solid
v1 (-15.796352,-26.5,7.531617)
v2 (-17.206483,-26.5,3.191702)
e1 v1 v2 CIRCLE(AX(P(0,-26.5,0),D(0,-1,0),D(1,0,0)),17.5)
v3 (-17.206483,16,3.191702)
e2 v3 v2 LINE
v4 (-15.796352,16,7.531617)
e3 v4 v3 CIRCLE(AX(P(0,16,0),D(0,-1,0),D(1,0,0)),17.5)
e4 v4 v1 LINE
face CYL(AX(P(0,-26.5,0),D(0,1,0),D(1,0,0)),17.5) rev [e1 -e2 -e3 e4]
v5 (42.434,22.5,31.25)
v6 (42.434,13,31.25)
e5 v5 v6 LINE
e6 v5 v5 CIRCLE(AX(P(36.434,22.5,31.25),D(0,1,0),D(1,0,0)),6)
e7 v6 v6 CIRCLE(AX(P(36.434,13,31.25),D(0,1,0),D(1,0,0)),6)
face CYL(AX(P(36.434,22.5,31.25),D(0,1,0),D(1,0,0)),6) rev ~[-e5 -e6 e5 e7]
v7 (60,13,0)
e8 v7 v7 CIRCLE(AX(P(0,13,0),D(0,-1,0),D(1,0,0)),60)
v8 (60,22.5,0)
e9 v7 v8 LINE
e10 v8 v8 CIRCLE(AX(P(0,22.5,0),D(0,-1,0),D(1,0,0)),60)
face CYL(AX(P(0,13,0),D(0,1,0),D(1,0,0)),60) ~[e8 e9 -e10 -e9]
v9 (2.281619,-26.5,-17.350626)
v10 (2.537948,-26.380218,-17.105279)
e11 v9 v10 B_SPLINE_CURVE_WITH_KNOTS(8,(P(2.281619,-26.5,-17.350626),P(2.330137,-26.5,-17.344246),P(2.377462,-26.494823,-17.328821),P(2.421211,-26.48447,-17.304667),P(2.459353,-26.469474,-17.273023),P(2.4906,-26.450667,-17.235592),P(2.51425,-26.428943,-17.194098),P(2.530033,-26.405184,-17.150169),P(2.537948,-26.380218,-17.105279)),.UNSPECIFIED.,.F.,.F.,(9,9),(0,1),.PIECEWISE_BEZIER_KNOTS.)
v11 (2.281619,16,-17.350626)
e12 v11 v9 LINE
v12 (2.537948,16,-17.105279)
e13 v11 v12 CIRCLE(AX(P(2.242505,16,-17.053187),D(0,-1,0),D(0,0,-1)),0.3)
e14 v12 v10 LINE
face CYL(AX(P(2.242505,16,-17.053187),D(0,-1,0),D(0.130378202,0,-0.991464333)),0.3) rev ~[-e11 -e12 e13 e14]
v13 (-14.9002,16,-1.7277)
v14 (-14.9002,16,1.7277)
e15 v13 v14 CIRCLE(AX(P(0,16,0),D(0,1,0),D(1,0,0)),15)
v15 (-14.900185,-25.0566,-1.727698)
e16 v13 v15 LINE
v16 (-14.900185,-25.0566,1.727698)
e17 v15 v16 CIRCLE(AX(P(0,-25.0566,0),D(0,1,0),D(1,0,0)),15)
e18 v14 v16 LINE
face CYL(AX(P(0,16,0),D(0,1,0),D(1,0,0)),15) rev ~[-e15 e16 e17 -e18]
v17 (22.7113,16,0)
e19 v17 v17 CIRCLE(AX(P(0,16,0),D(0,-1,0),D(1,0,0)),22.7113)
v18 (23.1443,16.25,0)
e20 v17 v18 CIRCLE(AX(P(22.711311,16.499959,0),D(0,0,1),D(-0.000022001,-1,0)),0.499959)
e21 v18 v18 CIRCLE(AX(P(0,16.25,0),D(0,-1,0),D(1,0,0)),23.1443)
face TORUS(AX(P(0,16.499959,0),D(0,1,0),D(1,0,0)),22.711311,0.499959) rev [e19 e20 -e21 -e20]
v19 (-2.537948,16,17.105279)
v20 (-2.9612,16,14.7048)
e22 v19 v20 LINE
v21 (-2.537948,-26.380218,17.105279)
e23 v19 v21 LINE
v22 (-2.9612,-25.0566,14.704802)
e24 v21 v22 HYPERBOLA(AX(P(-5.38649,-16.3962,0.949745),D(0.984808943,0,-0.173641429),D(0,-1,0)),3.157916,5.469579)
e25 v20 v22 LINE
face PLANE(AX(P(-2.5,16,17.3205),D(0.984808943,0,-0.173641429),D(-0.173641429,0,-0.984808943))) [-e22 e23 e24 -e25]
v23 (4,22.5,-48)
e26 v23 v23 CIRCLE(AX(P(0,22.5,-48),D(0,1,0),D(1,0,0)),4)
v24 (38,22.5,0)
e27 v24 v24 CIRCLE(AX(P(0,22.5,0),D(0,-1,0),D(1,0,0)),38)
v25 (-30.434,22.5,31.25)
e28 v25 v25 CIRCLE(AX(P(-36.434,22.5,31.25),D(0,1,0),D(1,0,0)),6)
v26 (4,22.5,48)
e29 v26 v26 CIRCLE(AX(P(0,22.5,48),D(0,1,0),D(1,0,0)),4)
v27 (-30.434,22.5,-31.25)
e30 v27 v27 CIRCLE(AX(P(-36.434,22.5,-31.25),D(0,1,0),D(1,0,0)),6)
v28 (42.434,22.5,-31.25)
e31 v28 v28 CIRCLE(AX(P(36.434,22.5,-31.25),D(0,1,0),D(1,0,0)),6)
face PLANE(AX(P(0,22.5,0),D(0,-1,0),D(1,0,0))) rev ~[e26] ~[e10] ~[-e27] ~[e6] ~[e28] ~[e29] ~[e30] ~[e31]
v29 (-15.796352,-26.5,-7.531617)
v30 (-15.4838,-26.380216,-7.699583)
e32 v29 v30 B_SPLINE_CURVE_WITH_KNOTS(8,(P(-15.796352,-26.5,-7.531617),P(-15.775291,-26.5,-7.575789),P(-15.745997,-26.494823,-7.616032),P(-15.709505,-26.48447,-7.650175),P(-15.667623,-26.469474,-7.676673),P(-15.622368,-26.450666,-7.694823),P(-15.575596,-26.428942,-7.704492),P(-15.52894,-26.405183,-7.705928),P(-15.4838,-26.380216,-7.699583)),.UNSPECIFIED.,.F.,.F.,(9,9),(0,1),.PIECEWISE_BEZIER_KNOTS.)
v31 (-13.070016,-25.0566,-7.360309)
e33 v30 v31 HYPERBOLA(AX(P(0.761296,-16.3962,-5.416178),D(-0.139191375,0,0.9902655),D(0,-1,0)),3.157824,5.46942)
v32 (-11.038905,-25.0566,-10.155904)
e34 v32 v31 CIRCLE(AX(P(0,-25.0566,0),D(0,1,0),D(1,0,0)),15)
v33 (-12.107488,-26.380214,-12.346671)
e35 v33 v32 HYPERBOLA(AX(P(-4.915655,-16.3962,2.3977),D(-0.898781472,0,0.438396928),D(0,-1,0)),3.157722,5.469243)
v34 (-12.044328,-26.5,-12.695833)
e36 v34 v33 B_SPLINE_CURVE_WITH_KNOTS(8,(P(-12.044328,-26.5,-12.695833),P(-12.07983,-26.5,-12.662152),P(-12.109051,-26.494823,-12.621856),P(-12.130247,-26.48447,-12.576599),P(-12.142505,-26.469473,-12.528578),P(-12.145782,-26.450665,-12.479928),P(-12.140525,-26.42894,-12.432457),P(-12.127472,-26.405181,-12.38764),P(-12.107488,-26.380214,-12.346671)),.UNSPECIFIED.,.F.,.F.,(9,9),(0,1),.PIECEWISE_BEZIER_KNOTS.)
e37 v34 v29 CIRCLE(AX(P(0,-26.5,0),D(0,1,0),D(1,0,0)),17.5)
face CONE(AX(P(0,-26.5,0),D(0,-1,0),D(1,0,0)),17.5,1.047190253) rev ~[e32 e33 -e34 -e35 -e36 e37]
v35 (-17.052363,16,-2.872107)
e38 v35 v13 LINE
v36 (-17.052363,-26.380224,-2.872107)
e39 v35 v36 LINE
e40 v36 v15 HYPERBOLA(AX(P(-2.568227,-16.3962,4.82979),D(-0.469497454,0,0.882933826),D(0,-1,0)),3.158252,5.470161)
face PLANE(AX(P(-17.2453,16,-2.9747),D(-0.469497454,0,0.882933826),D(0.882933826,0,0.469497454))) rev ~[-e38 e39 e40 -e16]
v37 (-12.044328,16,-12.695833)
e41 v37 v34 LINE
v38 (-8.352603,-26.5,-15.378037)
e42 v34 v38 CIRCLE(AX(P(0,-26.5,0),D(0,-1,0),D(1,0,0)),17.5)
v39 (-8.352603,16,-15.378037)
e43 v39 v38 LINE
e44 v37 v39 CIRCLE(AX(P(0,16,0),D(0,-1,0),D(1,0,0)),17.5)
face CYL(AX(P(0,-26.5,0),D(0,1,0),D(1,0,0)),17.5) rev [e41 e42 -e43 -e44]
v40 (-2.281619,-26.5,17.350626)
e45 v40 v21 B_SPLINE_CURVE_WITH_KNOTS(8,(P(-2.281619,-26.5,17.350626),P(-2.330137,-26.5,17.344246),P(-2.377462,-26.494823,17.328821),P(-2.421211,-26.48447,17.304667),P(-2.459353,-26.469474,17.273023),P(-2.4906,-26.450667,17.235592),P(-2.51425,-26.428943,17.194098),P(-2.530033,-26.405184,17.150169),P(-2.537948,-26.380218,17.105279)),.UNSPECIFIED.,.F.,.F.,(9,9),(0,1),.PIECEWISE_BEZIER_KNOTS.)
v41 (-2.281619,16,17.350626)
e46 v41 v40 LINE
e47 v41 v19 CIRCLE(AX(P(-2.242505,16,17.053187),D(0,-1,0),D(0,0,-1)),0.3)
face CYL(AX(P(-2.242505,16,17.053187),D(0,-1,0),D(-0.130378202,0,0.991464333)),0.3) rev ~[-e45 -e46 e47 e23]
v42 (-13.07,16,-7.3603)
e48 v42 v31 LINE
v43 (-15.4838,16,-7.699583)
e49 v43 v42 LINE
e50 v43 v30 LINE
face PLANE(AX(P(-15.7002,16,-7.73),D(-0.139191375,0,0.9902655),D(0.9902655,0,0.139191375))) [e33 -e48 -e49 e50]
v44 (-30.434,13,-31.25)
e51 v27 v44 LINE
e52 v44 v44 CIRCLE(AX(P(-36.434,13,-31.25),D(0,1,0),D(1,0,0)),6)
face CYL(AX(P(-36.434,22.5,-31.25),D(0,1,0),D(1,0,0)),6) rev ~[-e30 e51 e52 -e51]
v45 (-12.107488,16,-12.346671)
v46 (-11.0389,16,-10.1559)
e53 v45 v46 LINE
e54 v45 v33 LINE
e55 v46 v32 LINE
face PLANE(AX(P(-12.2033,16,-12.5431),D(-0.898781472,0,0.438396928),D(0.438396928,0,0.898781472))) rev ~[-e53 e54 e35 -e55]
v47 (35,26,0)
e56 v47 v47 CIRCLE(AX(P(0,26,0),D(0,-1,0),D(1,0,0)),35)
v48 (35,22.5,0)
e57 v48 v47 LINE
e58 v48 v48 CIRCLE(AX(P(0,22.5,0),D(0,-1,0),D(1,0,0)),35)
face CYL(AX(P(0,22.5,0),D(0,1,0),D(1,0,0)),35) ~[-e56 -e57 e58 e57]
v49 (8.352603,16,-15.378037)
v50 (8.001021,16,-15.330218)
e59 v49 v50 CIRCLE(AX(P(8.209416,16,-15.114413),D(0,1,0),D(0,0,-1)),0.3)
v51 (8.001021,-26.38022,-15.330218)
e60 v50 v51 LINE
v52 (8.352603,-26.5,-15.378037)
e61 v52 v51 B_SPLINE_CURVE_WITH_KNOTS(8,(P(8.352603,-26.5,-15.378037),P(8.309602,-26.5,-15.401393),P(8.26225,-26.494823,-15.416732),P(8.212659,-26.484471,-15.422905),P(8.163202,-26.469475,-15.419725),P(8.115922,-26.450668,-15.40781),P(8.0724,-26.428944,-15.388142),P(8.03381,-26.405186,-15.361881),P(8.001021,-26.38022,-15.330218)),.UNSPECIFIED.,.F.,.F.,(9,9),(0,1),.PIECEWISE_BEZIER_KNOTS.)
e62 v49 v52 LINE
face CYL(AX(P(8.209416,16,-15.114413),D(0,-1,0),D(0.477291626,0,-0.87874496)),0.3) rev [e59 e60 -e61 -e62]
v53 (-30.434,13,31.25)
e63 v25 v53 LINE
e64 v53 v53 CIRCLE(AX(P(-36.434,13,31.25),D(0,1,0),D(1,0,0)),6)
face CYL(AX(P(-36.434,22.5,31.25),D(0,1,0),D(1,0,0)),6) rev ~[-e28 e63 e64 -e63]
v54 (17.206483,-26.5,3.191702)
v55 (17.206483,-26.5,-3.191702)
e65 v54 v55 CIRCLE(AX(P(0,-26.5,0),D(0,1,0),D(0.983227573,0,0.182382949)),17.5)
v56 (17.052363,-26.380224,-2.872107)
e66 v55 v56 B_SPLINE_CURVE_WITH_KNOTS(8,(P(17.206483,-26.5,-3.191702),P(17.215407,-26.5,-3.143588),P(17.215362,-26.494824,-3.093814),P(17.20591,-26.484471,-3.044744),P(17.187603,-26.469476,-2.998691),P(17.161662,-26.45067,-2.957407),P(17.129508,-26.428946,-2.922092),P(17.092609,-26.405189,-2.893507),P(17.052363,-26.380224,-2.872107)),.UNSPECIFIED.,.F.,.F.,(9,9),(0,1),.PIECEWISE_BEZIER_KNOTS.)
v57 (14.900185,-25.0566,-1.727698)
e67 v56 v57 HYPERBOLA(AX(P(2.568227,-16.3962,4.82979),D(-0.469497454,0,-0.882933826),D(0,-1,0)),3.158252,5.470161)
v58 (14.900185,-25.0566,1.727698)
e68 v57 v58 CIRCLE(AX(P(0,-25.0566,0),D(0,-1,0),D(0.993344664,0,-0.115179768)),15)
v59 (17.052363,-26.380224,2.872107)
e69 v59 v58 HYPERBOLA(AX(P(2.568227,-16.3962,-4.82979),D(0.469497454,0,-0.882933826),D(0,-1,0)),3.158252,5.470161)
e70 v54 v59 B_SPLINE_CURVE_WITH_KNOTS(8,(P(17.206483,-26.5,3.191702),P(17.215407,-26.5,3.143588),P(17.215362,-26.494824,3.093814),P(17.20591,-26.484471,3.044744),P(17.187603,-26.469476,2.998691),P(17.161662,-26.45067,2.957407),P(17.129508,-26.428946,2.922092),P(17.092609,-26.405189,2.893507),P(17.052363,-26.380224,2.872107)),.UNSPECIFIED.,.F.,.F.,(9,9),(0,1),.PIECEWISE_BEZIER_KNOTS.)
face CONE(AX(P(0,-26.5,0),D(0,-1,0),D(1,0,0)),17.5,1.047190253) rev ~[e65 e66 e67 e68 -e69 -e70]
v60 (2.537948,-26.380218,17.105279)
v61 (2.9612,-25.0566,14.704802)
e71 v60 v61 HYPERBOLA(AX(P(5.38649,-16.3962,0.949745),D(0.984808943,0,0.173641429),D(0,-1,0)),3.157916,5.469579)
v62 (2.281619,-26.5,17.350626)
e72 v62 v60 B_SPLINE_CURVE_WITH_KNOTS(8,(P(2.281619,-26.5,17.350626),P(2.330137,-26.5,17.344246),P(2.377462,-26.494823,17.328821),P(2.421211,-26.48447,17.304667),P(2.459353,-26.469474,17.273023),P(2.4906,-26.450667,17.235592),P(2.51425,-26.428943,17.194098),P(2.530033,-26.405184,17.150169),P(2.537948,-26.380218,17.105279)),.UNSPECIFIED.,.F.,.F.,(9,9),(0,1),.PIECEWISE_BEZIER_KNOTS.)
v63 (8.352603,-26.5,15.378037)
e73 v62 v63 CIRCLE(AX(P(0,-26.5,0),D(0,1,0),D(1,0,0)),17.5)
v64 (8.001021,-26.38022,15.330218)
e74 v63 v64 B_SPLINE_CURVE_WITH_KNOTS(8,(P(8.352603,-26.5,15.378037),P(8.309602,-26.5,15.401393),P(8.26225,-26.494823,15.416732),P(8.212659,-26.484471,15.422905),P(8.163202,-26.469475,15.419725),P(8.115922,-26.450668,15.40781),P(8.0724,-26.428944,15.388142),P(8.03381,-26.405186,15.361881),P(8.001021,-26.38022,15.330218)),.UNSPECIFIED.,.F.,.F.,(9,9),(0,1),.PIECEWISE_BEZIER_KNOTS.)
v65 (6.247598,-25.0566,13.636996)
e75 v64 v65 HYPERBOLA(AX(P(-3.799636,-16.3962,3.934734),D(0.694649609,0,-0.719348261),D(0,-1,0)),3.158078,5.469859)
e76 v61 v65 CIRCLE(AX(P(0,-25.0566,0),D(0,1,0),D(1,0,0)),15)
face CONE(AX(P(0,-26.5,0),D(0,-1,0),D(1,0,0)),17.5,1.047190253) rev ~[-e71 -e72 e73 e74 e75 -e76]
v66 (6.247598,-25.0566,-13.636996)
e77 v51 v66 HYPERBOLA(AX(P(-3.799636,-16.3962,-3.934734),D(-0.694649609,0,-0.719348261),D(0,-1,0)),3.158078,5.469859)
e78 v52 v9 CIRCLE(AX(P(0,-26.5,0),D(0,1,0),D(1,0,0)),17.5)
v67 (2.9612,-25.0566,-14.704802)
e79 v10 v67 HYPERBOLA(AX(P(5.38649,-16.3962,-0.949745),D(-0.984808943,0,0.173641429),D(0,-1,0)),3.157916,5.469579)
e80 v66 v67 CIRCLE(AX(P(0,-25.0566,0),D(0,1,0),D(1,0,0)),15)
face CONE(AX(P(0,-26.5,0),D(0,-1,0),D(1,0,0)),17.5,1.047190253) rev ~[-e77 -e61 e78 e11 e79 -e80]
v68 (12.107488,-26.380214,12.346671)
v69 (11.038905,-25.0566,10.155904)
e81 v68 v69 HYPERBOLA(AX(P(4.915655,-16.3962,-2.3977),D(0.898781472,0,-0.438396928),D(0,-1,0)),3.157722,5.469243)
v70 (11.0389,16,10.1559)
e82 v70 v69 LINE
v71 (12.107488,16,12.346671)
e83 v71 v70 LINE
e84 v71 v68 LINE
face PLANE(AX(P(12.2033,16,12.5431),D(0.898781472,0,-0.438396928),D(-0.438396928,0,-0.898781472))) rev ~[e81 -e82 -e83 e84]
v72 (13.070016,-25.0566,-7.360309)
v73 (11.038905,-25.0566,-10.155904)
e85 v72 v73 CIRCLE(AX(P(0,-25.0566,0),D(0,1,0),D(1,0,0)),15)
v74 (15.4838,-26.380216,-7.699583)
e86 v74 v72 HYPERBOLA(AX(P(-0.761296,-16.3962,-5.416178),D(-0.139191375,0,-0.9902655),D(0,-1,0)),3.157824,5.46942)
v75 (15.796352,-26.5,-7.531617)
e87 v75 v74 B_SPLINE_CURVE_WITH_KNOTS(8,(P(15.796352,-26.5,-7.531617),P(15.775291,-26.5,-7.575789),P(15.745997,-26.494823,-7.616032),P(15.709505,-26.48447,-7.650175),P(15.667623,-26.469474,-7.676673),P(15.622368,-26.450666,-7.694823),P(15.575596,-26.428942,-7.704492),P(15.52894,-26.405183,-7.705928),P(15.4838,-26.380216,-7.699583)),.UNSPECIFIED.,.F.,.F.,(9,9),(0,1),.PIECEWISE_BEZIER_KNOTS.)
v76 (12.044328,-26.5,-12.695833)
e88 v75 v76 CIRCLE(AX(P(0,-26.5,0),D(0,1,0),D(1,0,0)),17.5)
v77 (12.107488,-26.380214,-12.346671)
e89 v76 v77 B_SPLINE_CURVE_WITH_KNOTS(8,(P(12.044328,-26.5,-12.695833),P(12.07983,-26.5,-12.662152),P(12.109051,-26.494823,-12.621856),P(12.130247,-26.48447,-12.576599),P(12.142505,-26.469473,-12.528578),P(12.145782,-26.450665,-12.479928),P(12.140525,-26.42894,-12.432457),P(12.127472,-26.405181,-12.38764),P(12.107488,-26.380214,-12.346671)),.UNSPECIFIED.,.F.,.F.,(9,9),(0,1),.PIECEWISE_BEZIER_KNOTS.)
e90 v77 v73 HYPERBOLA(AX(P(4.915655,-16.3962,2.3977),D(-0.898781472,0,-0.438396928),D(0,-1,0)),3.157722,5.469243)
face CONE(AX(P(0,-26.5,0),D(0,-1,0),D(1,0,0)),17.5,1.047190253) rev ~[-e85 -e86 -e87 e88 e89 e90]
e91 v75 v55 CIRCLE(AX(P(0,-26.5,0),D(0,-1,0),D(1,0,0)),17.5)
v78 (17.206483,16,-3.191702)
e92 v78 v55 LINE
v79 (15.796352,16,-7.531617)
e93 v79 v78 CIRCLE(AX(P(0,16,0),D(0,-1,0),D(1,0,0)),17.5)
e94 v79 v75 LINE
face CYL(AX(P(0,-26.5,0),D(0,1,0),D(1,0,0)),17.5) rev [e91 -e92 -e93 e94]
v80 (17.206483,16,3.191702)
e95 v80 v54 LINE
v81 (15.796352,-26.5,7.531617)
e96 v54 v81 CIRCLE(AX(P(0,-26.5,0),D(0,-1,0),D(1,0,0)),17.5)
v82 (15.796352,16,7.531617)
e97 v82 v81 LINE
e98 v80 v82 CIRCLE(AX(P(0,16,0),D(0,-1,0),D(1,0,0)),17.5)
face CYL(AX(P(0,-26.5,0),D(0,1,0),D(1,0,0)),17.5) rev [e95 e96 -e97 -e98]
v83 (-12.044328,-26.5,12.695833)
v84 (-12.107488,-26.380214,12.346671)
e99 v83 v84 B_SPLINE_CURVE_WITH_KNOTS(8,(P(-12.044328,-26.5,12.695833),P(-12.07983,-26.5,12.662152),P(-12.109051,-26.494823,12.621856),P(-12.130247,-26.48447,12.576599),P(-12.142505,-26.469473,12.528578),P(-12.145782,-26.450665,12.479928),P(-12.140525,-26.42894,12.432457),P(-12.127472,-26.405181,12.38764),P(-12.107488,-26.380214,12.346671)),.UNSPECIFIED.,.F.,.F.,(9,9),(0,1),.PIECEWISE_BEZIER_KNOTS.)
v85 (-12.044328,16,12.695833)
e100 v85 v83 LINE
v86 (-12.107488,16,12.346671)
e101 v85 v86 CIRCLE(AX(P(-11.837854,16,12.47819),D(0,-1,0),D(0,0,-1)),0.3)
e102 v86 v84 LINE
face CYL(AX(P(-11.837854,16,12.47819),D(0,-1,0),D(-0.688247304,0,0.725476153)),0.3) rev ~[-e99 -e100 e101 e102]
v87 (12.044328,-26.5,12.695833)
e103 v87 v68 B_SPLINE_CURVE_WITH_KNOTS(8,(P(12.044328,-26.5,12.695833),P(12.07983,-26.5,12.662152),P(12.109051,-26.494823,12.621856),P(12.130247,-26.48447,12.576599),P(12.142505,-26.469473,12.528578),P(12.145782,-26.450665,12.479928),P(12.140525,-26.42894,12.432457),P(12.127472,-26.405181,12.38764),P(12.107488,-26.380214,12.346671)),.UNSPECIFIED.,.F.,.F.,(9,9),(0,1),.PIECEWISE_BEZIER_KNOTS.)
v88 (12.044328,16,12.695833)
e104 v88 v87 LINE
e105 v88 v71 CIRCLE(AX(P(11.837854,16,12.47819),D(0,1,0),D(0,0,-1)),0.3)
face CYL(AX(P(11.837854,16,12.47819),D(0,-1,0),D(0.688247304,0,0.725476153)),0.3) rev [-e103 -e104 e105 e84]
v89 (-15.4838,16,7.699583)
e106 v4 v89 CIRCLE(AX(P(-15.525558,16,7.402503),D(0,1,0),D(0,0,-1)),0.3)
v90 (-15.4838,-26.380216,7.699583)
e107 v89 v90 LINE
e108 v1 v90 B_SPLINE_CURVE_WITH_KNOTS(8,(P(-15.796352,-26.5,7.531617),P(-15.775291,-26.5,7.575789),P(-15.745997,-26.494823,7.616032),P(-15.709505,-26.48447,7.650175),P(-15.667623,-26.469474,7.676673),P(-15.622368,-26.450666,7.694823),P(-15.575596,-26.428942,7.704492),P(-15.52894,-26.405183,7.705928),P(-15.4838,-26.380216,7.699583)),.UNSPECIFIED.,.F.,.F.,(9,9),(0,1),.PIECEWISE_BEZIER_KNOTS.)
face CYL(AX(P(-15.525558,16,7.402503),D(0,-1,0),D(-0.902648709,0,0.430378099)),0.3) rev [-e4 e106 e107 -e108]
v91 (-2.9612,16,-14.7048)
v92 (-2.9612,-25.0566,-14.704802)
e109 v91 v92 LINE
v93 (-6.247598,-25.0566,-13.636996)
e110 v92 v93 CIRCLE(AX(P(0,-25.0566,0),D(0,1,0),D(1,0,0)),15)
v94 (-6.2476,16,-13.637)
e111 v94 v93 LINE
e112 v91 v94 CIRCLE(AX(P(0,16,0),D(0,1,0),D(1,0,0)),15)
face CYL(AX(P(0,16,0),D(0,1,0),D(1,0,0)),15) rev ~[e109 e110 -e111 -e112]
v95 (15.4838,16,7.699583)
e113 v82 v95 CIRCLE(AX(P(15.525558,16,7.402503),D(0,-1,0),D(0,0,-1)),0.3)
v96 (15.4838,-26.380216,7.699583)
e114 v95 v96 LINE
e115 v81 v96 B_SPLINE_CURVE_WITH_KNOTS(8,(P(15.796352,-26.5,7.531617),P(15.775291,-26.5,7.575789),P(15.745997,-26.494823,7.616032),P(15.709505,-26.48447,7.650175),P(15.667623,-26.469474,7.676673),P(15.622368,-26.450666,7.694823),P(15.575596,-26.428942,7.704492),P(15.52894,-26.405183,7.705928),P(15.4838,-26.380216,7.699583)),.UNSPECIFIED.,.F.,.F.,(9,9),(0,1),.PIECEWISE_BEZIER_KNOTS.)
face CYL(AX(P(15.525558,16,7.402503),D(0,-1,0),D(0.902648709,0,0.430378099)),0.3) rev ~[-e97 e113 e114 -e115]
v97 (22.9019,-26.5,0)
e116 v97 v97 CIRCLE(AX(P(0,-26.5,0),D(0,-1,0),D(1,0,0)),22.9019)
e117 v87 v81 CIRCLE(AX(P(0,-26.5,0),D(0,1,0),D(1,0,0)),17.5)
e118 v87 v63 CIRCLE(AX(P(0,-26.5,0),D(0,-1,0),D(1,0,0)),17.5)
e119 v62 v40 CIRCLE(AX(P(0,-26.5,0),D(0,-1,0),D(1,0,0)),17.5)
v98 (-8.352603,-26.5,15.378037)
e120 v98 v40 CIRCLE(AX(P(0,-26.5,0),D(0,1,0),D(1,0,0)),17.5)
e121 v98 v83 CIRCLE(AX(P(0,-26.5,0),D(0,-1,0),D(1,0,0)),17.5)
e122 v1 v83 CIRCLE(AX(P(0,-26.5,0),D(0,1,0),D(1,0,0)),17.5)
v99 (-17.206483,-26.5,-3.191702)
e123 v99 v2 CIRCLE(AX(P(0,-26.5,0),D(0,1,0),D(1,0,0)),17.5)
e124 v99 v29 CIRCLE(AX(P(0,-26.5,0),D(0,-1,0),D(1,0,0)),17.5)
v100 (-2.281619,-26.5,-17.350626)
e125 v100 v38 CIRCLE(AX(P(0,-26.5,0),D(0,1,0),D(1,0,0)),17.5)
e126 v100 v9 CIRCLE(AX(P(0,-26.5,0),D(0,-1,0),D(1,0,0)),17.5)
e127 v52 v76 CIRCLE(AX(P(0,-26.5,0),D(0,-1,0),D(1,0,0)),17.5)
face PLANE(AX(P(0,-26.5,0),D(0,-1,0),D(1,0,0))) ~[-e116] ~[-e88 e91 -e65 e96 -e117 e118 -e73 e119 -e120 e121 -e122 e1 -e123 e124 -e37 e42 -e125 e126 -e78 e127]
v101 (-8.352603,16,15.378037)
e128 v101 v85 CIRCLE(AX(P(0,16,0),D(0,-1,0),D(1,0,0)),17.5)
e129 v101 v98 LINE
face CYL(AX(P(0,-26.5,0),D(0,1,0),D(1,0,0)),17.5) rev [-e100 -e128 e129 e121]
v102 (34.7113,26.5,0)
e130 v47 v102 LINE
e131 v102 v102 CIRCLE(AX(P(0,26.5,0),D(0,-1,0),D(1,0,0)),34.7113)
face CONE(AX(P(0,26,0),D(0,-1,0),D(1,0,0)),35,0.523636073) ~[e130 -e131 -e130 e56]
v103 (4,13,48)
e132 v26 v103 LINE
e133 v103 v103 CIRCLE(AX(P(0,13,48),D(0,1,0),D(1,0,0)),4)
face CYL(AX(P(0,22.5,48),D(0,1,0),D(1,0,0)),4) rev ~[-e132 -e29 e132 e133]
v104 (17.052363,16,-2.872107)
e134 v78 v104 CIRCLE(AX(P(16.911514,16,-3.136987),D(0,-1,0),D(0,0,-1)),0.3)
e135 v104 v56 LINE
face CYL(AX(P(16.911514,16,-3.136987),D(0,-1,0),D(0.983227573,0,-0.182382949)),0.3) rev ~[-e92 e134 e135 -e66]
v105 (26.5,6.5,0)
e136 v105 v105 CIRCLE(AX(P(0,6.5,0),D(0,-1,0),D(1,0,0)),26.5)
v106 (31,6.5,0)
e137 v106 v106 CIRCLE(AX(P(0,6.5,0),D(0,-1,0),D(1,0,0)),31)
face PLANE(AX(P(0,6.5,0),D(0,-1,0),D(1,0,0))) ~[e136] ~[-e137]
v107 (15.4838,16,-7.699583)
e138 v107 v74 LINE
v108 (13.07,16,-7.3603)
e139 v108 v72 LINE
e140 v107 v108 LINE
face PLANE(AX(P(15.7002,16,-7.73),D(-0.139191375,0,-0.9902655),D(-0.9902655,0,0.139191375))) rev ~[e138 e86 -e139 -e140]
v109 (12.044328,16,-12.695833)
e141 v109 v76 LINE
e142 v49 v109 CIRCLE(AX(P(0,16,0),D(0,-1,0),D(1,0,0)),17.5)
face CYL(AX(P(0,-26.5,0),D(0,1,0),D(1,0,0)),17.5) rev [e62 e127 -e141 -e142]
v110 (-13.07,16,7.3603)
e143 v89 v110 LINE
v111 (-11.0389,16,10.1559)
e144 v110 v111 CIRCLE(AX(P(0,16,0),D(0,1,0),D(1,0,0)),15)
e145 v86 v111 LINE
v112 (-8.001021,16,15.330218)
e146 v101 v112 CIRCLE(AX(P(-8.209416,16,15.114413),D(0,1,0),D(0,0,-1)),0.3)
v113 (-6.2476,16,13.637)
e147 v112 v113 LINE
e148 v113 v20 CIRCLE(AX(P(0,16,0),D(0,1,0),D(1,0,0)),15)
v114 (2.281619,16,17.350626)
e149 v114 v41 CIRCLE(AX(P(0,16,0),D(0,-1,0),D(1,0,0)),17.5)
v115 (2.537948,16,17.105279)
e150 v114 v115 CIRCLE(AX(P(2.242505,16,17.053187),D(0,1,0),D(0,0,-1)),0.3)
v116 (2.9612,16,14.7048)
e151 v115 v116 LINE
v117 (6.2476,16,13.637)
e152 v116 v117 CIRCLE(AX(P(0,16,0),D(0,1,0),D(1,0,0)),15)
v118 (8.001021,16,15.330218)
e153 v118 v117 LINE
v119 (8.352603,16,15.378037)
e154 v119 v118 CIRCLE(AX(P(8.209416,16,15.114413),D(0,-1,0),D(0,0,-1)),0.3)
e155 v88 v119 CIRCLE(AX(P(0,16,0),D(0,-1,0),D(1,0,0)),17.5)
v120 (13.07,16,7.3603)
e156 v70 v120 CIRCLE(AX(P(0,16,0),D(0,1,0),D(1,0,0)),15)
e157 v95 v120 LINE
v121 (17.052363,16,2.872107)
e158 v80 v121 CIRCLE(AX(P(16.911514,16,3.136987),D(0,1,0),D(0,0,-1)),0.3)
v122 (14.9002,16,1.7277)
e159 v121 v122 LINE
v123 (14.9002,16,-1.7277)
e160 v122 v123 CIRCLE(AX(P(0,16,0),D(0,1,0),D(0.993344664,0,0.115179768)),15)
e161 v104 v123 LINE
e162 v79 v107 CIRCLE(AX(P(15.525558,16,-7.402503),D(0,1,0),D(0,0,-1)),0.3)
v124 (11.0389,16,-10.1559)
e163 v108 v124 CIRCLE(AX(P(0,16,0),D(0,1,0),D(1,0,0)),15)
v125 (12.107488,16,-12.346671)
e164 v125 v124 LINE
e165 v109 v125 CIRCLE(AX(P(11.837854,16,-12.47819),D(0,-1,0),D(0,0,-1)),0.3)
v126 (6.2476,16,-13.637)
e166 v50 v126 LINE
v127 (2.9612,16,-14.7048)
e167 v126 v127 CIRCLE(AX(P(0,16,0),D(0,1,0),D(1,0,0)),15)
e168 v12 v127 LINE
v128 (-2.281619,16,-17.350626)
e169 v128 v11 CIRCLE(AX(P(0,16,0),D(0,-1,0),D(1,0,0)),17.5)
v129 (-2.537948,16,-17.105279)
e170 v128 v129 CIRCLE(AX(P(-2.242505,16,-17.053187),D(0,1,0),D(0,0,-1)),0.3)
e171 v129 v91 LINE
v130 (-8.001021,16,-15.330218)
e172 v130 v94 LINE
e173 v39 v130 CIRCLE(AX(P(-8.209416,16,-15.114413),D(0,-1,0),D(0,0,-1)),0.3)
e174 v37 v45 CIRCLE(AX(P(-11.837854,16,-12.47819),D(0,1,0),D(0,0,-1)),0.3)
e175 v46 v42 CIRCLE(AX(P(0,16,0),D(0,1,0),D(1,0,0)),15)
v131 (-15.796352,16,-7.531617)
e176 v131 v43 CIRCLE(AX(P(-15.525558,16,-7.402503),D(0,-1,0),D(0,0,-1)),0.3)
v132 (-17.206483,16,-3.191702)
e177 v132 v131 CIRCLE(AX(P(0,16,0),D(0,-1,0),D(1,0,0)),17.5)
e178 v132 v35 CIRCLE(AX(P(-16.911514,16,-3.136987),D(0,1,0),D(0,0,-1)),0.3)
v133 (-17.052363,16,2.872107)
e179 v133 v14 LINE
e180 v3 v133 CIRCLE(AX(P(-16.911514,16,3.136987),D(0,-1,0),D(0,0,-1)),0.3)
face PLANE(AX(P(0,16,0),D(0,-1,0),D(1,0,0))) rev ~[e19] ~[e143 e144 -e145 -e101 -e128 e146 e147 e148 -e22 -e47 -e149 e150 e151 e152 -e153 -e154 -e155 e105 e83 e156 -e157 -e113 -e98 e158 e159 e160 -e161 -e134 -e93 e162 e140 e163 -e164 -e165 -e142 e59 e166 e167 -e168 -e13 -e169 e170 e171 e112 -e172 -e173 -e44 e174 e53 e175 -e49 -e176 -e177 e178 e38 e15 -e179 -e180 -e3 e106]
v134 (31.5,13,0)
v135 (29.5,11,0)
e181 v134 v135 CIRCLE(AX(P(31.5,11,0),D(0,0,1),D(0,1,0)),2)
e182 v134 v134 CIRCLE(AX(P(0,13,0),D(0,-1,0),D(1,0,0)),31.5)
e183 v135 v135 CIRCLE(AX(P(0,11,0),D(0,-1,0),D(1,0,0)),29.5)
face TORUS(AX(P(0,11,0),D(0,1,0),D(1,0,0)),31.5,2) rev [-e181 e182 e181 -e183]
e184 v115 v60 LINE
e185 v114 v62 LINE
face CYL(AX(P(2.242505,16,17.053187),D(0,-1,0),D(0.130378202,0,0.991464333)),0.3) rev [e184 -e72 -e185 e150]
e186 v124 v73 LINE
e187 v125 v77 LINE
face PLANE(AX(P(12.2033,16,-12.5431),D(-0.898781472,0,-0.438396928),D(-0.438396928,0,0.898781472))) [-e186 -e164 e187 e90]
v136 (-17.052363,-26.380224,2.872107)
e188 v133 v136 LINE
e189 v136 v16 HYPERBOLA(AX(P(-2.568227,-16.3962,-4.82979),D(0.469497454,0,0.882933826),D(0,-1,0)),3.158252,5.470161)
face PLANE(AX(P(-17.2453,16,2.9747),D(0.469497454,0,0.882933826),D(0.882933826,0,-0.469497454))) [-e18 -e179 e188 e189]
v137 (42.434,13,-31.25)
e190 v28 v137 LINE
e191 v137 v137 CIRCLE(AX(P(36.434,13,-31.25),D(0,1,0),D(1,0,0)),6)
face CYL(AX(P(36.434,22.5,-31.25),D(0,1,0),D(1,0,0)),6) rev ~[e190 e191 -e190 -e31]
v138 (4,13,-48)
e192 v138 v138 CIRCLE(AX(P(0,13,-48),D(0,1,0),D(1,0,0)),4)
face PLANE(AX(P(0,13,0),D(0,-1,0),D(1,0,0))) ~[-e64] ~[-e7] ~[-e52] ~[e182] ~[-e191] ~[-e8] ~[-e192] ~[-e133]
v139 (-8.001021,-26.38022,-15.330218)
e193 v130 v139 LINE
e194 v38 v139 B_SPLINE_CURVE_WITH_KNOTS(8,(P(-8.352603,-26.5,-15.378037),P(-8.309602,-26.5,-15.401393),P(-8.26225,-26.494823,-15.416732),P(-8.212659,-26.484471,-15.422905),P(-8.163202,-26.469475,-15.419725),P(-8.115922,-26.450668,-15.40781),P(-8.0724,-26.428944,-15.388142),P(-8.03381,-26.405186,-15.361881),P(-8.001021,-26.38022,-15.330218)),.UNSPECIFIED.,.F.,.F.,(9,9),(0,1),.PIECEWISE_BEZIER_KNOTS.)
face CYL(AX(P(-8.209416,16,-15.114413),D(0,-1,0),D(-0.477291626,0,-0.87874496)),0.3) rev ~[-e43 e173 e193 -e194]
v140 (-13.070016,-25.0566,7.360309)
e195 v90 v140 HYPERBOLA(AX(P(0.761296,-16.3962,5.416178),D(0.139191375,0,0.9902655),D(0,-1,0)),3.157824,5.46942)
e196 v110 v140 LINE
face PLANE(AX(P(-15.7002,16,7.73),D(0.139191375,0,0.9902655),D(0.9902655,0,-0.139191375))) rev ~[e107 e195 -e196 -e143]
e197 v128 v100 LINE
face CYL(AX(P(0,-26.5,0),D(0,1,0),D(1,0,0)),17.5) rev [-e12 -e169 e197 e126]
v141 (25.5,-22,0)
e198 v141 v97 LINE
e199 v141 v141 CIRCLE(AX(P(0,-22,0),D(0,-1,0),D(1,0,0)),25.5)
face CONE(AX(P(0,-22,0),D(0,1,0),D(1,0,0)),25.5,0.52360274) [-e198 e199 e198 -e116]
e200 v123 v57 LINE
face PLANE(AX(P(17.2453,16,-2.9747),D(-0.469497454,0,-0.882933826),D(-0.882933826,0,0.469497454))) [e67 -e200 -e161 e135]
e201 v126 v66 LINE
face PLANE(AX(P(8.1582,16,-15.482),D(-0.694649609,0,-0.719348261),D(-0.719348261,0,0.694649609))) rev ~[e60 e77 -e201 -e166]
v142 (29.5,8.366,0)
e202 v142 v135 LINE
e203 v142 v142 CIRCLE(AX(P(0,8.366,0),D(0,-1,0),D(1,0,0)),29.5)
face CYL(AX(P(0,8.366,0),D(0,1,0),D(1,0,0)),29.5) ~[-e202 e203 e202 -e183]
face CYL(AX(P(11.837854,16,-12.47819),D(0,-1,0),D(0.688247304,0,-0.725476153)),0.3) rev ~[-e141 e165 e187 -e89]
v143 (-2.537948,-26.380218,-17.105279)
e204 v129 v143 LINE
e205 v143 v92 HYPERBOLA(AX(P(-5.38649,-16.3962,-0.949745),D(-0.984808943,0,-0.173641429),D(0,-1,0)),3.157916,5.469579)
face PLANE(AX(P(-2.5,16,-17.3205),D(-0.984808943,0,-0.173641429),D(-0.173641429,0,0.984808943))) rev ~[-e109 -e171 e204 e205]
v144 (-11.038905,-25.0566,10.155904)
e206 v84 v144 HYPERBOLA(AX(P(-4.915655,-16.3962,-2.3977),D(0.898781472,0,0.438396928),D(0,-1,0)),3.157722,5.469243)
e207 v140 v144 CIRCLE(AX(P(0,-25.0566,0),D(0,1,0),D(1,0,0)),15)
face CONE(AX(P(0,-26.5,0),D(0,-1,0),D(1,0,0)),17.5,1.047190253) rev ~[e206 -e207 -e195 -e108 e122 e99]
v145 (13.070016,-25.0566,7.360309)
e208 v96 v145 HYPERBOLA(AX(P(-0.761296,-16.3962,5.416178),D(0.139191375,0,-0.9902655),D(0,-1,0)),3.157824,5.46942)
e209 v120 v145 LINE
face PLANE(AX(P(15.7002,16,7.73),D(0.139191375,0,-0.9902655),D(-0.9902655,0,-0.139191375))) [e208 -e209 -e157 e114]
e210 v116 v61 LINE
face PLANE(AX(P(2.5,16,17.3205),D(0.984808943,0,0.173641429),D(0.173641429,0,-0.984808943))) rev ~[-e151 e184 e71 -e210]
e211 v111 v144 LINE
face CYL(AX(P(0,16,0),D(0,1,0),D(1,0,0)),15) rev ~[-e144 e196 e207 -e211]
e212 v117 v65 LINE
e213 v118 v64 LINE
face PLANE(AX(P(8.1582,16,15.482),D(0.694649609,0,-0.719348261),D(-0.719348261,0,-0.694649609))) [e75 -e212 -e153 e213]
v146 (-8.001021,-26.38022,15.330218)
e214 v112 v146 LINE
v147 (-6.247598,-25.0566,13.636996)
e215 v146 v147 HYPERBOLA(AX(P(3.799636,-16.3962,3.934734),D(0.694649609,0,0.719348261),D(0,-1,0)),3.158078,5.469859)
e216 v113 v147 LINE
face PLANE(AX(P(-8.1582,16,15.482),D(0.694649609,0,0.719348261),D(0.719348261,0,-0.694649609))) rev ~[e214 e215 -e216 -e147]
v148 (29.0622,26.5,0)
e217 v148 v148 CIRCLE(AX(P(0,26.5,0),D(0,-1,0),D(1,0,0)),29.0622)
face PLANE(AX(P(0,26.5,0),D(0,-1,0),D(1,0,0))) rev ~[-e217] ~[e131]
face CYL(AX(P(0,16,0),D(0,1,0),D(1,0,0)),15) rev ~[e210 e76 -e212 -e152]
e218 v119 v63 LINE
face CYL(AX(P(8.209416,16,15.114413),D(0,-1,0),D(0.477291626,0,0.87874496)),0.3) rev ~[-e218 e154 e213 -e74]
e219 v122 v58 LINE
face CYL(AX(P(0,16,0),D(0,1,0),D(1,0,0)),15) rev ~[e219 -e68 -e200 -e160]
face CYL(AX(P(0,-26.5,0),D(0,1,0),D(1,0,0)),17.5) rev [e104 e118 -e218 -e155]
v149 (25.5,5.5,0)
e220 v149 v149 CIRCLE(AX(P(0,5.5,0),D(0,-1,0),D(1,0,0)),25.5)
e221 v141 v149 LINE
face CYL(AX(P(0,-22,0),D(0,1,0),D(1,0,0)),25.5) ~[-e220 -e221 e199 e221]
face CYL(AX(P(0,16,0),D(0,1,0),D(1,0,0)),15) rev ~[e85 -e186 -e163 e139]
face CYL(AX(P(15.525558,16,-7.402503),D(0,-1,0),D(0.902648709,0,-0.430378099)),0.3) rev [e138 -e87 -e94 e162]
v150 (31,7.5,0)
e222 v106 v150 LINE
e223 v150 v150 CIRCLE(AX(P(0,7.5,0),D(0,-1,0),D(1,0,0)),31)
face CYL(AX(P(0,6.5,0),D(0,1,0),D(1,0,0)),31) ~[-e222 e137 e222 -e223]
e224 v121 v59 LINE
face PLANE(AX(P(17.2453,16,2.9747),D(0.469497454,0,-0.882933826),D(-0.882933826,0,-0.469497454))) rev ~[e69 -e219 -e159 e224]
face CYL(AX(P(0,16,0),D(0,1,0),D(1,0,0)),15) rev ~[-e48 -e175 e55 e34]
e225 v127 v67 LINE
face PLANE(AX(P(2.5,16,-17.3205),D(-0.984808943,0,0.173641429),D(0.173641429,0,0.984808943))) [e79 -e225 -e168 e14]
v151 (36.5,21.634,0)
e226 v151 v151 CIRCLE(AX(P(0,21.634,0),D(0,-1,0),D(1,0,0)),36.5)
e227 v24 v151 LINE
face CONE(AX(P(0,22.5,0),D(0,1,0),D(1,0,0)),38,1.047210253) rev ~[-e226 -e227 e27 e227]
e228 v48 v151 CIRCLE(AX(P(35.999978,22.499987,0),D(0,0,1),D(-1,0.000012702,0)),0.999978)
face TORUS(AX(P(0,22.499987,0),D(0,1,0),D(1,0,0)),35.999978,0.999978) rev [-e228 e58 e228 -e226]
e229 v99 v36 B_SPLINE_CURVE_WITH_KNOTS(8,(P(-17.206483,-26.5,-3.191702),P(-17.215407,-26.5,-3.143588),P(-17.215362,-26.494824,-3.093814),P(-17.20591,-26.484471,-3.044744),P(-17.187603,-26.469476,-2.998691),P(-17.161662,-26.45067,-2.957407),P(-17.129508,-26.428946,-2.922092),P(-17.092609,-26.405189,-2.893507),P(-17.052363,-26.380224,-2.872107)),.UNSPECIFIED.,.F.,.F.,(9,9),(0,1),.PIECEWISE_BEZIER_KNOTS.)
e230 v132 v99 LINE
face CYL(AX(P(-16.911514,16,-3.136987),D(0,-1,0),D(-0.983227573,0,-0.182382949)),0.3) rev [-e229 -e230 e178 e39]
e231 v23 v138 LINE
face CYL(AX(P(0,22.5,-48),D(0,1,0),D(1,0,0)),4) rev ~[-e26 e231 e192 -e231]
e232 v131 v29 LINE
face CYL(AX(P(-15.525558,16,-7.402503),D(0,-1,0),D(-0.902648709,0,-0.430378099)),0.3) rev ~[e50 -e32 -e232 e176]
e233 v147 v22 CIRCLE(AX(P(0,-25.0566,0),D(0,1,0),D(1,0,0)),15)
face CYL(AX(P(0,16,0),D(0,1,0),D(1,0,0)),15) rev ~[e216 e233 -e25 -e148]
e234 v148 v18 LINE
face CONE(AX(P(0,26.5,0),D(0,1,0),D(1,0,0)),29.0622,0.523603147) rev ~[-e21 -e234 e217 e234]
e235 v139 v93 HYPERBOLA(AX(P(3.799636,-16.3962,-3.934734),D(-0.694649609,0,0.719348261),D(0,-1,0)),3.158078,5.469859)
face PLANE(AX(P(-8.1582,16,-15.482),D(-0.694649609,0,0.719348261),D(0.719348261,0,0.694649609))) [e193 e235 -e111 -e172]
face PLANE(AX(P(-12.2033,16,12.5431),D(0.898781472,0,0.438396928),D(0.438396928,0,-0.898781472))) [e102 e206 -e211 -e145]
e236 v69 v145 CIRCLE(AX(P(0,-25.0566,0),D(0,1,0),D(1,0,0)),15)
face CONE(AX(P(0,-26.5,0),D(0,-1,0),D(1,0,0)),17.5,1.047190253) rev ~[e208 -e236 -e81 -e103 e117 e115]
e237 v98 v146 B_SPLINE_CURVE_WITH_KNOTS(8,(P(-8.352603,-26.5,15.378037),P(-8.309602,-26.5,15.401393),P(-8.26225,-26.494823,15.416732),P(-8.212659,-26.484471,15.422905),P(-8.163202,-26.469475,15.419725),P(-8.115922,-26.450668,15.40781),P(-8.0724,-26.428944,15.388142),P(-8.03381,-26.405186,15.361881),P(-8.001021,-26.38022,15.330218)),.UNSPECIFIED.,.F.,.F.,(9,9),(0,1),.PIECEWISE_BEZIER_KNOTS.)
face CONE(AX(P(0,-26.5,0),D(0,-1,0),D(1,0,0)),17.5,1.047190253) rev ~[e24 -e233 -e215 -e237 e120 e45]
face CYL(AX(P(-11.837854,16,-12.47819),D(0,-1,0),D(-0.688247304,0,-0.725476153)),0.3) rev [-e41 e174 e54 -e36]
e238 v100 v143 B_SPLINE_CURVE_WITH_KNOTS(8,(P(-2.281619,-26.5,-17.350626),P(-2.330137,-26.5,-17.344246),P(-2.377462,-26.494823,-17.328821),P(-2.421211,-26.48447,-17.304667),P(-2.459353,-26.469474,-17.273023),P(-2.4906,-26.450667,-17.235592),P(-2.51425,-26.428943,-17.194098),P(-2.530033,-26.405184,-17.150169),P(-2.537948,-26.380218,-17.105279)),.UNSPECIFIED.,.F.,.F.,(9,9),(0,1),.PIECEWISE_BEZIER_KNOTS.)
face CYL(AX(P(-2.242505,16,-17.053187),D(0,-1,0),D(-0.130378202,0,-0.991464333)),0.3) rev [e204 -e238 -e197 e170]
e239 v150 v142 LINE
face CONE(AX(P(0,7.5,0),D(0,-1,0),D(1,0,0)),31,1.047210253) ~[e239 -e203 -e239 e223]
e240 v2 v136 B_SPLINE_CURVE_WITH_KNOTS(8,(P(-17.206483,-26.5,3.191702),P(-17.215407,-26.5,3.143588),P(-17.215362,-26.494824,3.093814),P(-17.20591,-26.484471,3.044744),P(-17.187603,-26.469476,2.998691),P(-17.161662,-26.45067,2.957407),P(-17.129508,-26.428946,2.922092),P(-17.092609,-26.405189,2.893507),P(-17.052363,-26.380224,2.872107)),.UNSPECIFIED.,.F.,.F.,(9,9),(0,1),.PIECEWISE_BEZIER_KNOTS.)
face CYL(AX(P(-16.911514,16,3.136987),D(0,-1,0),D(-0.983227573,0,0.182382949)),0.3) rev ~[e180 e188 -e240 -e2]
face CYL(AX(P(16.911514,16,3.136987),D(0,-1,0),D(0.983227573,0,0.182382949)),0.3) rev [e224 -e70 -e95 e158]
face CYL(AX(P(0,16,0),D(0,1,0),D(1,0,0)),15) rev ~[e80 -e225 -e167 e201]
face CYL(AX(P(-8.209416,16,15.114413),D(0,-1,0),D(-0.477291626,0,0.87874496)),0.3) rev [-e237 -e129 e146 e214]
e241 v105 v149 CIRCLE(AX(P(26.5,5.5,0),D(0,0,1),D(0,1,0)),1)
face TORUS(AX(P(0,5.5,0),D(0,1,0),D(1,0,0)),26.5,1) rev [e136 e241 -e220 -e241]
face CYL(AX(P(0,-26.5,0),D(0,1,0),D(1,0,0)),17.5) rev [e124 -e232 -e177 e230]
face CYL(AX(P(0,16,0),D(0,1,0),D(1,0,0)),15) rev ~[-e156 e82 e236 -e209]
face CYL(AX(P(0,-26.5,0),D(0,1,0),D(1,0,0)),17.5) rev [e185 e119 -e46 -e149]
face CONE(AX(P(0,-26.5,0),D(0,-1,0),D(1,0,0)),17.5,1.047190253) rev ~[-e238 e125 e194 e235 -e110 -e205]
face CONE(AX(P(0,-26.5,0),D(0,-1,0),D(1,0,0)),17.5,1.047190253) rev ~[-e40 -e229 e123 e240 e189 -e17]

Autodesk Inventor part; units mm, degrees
ref_plane "YZ Plane" through (0, 0, 0) normal (1, 0, 0) x (0, 1, 0)
ref_plane "XZ Plane" through (0, 0, 0) normal (0, 1, 0) x (-1, 0, 0)
ref_plane "XY Plane" through (0, 0, 0) normal (0, 0, 1) x (1, 0, 0)
sketch "Эскиз1" plane through (0, 0, 0) normal (0, 0, 1) x (1, 0, 0)
  line L0 (0, 26.5) -> (0, -26.5)
  line L1 (17.5, -26.5) -> (22.9019, -26.5)
  line L2 (25.5, -22) -> (25.5, 5.5)
  line L3 (17.5, -26.5) -> (17.5, 16)
  line L4 (25.5, -22) -> (22.9019, -26.5)
  line L5 (26.5, 6.5) -> (31, 6.5)
  arc A0 (26.5, 6.5) -> (25.5, 5.5) centre (26.5, 5.5) ccw
  line L6 (31, 6.5) -> (31, 7.5)
  line L7 (31, 7.5) -> (29.5, 8.366)
  line L8 (29.5, 8.366) -> (29.5, 11)
  line L9 (31.5, 13) -> (60, 13)
  arc A1 (31.5, 13) -> (29.5, 11) centre (31.5, 11) ccw
  line L10 (60, 13) -> (60, 22.5)
  line L11 (60, 22.5) -> (38, 22.5)
  line L12 (38, 22.5) -> (36.5, 21.634)
  arc A2 (35, 22.5) -> (36.5, 21.634) centre (36, 22.5) ccw
  line L13 (35, 22.5) -> (35, 26)
  line L14 (34.7113, 26.5) -> (29.0622, 26.5)
  line L15 (29.0622, 26.5) -> (23.1443, 16.25)
  line L16 (22.7113, 16) -> (17.5, 16)
  arc A3 (22.7113, 16) -> (23.1443, 16.25) centre (22.7113, 16.5) ccw
  line L17 (35, 26) -> (34.7113, 26.5)
  point P0 (0, 0)
  point P1 (0, 0)
  point P2 (25.5, -26.5)
  point P3 (25.5, 6.5)
  point P4 (35, 26.5)
  point P5 (23, 16)
  dimension "d0" = 53
  dimension "d1" = 35
  dimension "d2" = 51
  dimension "d3" = 4.5
  dimension "d4" = 30
  dimension "d5" = 1
  dimension "d7" = 33
  dimension "d8" = 1
  dimension "d9" = 30
  dimension "d10" = 2
  dimension "d11" = 59
  dimension "d12" = 62
  dimension "d13" = 9.5
  dimension "d14" = 30
  dimension "d15" = 1
  dimension "d16" = 120
  dimension "d17" = 70
  dimension "d18" = 4
  dimension "d19" = 30
  dimension "d20" = 10.5
  dimension "d21" = 0.5
  dimension "d22" = 46
  dimension "d23" = 0.5
  dimension "d24" = 30
revolve "Вращение1" add sketch "Эскиз1" angle 360 about axis through (0, 26.5, 0) along (0, -1, 0)
sketch "Эскиз2" plane through (0, 22.5, 0) normal (0, 1, 0) x (1, 0, 0)
  circle A0 centre (0, 0) radius 48 construction
  circle A1 centre (-36.434, 31.25) radius 6
  line L0 (-36.434, 31.25) -> (-36.434, -31.25) construction
  circle A2 centre (-36.434, -31.25) radius 6
  circle A3 centre (36.434, 31.25) radius 6
  circle A4 centre (36.434, -31.25) radius 6
  circle A5 centre (0, -48) radius 4
  circle A6 centre (0, 48) radius 4
  dimension "d26" = 96
  dimension "d27" = 12
  dimension "d28" = 62.5
  dimension "d29" = 8
extrude "Выдавливание1" cut sketch "Эскиз2" against normal through all
thread "Резьба1" size "M12x1.25" class "6H" standard "ISO Metric profile" length 7.4
thread "Резьба2" size "M12x1.25" class "6H" standard "ISO Metric profile" length 7.4
thread "Резьба3" size "M12x1.25" class "6H" standard "ISO Metric profile" length 7.4
thread "Резьба4" size "M12x1.25" class "6H" standard "ISO Metric profile" length 7.4
thread "Резьба5" size "M8x1" class "6H" standard "ANSI Metric M Profile" length 7.4
thread "Резьба6" size "M8x1" class "6H" standard "ISO Metric profile" length 7.4
sketch "Эскиз3" plane through (0, 16, 0) normal (0, 1, 0) x (1, 0, 0)
  circle A0 centre (0, 0) radius 15
  circle A1 centre (0, 0) radius 17.5 projected
  circle A2 centre (0, 0) radius 17.5 construction
  line L0 (-2.5, -17.3205) -> (2.5, -17.3205) construction
  line L1 (8.1582, -15.482) -> (12.2033, -12.5431) construction
  line L2 (15.7002, -7.73) -> (17.2453, -2.9747) construction
  line L3 (17.2453, 2.9747) -> (15.7002, 7.73) construction
  line L4 (12.2033, 12.5431) -> (8.1582, 15.482) construction
  line L5 (2.5, 17.3205) -> (-2.5, 17.3205) construction
  line L6 (-8.1582, 15.482) -> (-12.2033, 12.5431) construction
  line L7 (-15.7002, 7.73) -> (-17.2453, 2.9747) construction
  line L8 (-17.2453, -2.9747) -> (-15.7002, -7.73) construction
  line L9 (-12.2033, -12.5431) -> (-8.1582, -15.482) construction
  line L10 (-2.5, -17.3205) -> (-2.9612, -14.7048)
  line L11 (-8.1582, -15.482) -> (-6.2476, -13.637)
  line L12 (2.5, -17.3205) -> (2.9612, -14.7048)
  line L13 (8.1582, -15.482) -> (6.2476, -13.637)
  line L14 (12.2033, -12.5431) -> (11.0389, -10.1559)
  line L15 (15.7002, -7.73) -> (13.07, -7.3603)
  line L16 (17.2453, -2.9747) -> (14.9002, -1.7277)
  line L17 (17.2453, 2.9747) -> (14.9002, 1.7277)
  line L18 (15.7002, 7.73) -> (13.07, 7.3603)
  line L19 (12.2033, 12.5431) -> (11.0389, 10.1559)
  line L20 (8.1582, 15.482) -> (6.2476, 13.637)
  line L21 (2.5, 17.3205) -> (2.9612, 14.7048)
  line L22 (-2.5, 17.3205) -> (-2.9612, 14.7048)
  line L23 (-8.1582, 15.482) -> (-6.2476, 13.637)
  line L24 (-12.2033, 12.5431) -> (-11.0389, 10.1559)
  line L25 (-15.7002, 7.73) -> (-13.07, 7.3603)
  line L26 (-17.2453, 2.9747) -> (-14.9002, 1.7277)
  line L27 (-17.2453, -2.9747) -> (-14.9002, -1.7277)
  line L28 (-15.7002, -7.73) -> (-13.07, -7.3603)
  line L29 (-12.2033, -12.5431) -> (-11.0389, -10.1559)
  point P0 (0, -17.3205)
  point P1 (10.1807, -14.0126)
  point P2 (16.4728, -5.3523)
  point P3 (16.4728, 5.3523)
  point P4 (10.1807, 14.0126)
  point P5 (0, 17.3205)
  point P6 (-10.1807, 14.0126)
  point P7 (-16.4728, 5.3523)
  point P8 (-16.4728, -5.3523)
  point P9 (-10.1807, -14.0126)
  point P10 (8.1582, -15.482)
  point P11 (6.2476, -13.637)
  point P12 (2.9612, -14.7048)
  point P13 (15.7002, -7.73)
  point P14 (13.07, -7.3603)
  point P15 (11.0389, -10.1559)
  point P16 (12.2033, -12.5431)
  point P17 (17.2453, 2.9747)
  point P18 (14.9002, 1.7277)
  point P19 (14.9002, -1.7277)
  point P20 (17.2453, -2.9747)
  point P21 (12.2033, 12.5431)
  point P22 (11.0389, 10.1559)
  point P23 (13.07, 7.3603)
  point P24 (15.7002, 7.73)
  point P25 (6.2476, 13.637)
  point P26 (8.1582, 15.482)
  point P27 (-6.2476, 13.637)
  point P28 (-2.9612, 14.7048)
  point P29 (-15.7002, 7.73)
  point P30 (-13.07, 7.3603)
  point P31 (-11.0389, 10.1559)
  point P32 (-12.2033, 12.5431)
  point P33 (-17.2453, -2.9747)
  point P34 (-14.9002, -1.7277)
  point P35 (-14.9002, 1.7277)
  point P36 (-17.2453, 2.9747)
  point P37 (-12.2033, -12.5431)
  point P38 (-11.0389, -10.1559)
  point P39 (-13.07, -7.3603)
  point P40 (-15.7002, -7.73)
  dimension "d44" = 30
  dimension "d45" = 5
  dimension "d48" = 360
  dimension "d50" = 100
  dimension "d51" = 56
  dimension "d54" = 360
extrude "Выдавливание2" add sketch "Эскиз3" against normal up to surface (42.5 mm away) contours A0 L17 A1 L16 | A0 L19 A1 L18 | L15 A1 L14 A0 | A0 L21 A1 L20 | L13 A1 L12 A0 | A0 L23 A1 L22 | L10 A1 L11 A0 | A0 L25 A1 L24 | L29 A1 L28 A0 | A0 L27 A1 L26
fillet "Сопряжение1" radius 0.3 20 edges at (-2.5, -5.25, -17.3205) (-8.1582, -5.25, -15.482) (2.5, -5.25, -17.3205) (8.1582, -5.25, -15.482) (15.7002, -5.25, -7.73) (12.2033, -5.25, -12.5431) (17.2453, -5.25, -2.9747) (17.2453, -5.25, 2.9747) (15.7002, -5.25, 7.73) (12.2033, -5.25, 12.5431) (8.1582, -5.25, 15.482) (2.5, -5.25, 17.3205) (-2.5, -5.25, 17.3205) (-8.1582, -5.25, 15.482) (-12.2033, -5.25, 12.5431) (-15.7002, -5.25, 7.73) (-17.2453, -5.25, 2.9747) (-17.2453, -5.25, -2.9747) (-15.7002, -5.25, -7.73) (-12.2033, -5.25, -12.5431)
sketch "Эскиз4" plane through (0, -26.5, 0) normal (0, -1, 0) x (1, 0, 0)
  circle A0 centre (0, 0) radius 17.5 construction
  arc A1 (17.2065, 3.1917) -> (15.7964, 7.5316) centre (0, 0) ccw construction
sketch "Эскиз5" plane through (0, 0, 0) normal (0, 0, 1) x (1, 0, 0)
  line L0 (-17.5, -26.5) -> (17.5, -26.5) construction
  line L1 (15, -26.5) -> (15, 16) projected
  line L2 (17.5, -26.5) -> (15, -25.0566)
  line L3 (-22.9019, -26.5) -> (22.9019, -26.5) projected
  line L4 (0, -37.1) -> (0, 37.1) projected
  point P0 (0, 0)
  dimension "d59" = 30
revolve "Вращение2" cut sketch "Эскиз5" angle 360 about axis through (0, -10, 0) along (0, 1, 0)
properties part number "65. Муфта вторичного вала"
